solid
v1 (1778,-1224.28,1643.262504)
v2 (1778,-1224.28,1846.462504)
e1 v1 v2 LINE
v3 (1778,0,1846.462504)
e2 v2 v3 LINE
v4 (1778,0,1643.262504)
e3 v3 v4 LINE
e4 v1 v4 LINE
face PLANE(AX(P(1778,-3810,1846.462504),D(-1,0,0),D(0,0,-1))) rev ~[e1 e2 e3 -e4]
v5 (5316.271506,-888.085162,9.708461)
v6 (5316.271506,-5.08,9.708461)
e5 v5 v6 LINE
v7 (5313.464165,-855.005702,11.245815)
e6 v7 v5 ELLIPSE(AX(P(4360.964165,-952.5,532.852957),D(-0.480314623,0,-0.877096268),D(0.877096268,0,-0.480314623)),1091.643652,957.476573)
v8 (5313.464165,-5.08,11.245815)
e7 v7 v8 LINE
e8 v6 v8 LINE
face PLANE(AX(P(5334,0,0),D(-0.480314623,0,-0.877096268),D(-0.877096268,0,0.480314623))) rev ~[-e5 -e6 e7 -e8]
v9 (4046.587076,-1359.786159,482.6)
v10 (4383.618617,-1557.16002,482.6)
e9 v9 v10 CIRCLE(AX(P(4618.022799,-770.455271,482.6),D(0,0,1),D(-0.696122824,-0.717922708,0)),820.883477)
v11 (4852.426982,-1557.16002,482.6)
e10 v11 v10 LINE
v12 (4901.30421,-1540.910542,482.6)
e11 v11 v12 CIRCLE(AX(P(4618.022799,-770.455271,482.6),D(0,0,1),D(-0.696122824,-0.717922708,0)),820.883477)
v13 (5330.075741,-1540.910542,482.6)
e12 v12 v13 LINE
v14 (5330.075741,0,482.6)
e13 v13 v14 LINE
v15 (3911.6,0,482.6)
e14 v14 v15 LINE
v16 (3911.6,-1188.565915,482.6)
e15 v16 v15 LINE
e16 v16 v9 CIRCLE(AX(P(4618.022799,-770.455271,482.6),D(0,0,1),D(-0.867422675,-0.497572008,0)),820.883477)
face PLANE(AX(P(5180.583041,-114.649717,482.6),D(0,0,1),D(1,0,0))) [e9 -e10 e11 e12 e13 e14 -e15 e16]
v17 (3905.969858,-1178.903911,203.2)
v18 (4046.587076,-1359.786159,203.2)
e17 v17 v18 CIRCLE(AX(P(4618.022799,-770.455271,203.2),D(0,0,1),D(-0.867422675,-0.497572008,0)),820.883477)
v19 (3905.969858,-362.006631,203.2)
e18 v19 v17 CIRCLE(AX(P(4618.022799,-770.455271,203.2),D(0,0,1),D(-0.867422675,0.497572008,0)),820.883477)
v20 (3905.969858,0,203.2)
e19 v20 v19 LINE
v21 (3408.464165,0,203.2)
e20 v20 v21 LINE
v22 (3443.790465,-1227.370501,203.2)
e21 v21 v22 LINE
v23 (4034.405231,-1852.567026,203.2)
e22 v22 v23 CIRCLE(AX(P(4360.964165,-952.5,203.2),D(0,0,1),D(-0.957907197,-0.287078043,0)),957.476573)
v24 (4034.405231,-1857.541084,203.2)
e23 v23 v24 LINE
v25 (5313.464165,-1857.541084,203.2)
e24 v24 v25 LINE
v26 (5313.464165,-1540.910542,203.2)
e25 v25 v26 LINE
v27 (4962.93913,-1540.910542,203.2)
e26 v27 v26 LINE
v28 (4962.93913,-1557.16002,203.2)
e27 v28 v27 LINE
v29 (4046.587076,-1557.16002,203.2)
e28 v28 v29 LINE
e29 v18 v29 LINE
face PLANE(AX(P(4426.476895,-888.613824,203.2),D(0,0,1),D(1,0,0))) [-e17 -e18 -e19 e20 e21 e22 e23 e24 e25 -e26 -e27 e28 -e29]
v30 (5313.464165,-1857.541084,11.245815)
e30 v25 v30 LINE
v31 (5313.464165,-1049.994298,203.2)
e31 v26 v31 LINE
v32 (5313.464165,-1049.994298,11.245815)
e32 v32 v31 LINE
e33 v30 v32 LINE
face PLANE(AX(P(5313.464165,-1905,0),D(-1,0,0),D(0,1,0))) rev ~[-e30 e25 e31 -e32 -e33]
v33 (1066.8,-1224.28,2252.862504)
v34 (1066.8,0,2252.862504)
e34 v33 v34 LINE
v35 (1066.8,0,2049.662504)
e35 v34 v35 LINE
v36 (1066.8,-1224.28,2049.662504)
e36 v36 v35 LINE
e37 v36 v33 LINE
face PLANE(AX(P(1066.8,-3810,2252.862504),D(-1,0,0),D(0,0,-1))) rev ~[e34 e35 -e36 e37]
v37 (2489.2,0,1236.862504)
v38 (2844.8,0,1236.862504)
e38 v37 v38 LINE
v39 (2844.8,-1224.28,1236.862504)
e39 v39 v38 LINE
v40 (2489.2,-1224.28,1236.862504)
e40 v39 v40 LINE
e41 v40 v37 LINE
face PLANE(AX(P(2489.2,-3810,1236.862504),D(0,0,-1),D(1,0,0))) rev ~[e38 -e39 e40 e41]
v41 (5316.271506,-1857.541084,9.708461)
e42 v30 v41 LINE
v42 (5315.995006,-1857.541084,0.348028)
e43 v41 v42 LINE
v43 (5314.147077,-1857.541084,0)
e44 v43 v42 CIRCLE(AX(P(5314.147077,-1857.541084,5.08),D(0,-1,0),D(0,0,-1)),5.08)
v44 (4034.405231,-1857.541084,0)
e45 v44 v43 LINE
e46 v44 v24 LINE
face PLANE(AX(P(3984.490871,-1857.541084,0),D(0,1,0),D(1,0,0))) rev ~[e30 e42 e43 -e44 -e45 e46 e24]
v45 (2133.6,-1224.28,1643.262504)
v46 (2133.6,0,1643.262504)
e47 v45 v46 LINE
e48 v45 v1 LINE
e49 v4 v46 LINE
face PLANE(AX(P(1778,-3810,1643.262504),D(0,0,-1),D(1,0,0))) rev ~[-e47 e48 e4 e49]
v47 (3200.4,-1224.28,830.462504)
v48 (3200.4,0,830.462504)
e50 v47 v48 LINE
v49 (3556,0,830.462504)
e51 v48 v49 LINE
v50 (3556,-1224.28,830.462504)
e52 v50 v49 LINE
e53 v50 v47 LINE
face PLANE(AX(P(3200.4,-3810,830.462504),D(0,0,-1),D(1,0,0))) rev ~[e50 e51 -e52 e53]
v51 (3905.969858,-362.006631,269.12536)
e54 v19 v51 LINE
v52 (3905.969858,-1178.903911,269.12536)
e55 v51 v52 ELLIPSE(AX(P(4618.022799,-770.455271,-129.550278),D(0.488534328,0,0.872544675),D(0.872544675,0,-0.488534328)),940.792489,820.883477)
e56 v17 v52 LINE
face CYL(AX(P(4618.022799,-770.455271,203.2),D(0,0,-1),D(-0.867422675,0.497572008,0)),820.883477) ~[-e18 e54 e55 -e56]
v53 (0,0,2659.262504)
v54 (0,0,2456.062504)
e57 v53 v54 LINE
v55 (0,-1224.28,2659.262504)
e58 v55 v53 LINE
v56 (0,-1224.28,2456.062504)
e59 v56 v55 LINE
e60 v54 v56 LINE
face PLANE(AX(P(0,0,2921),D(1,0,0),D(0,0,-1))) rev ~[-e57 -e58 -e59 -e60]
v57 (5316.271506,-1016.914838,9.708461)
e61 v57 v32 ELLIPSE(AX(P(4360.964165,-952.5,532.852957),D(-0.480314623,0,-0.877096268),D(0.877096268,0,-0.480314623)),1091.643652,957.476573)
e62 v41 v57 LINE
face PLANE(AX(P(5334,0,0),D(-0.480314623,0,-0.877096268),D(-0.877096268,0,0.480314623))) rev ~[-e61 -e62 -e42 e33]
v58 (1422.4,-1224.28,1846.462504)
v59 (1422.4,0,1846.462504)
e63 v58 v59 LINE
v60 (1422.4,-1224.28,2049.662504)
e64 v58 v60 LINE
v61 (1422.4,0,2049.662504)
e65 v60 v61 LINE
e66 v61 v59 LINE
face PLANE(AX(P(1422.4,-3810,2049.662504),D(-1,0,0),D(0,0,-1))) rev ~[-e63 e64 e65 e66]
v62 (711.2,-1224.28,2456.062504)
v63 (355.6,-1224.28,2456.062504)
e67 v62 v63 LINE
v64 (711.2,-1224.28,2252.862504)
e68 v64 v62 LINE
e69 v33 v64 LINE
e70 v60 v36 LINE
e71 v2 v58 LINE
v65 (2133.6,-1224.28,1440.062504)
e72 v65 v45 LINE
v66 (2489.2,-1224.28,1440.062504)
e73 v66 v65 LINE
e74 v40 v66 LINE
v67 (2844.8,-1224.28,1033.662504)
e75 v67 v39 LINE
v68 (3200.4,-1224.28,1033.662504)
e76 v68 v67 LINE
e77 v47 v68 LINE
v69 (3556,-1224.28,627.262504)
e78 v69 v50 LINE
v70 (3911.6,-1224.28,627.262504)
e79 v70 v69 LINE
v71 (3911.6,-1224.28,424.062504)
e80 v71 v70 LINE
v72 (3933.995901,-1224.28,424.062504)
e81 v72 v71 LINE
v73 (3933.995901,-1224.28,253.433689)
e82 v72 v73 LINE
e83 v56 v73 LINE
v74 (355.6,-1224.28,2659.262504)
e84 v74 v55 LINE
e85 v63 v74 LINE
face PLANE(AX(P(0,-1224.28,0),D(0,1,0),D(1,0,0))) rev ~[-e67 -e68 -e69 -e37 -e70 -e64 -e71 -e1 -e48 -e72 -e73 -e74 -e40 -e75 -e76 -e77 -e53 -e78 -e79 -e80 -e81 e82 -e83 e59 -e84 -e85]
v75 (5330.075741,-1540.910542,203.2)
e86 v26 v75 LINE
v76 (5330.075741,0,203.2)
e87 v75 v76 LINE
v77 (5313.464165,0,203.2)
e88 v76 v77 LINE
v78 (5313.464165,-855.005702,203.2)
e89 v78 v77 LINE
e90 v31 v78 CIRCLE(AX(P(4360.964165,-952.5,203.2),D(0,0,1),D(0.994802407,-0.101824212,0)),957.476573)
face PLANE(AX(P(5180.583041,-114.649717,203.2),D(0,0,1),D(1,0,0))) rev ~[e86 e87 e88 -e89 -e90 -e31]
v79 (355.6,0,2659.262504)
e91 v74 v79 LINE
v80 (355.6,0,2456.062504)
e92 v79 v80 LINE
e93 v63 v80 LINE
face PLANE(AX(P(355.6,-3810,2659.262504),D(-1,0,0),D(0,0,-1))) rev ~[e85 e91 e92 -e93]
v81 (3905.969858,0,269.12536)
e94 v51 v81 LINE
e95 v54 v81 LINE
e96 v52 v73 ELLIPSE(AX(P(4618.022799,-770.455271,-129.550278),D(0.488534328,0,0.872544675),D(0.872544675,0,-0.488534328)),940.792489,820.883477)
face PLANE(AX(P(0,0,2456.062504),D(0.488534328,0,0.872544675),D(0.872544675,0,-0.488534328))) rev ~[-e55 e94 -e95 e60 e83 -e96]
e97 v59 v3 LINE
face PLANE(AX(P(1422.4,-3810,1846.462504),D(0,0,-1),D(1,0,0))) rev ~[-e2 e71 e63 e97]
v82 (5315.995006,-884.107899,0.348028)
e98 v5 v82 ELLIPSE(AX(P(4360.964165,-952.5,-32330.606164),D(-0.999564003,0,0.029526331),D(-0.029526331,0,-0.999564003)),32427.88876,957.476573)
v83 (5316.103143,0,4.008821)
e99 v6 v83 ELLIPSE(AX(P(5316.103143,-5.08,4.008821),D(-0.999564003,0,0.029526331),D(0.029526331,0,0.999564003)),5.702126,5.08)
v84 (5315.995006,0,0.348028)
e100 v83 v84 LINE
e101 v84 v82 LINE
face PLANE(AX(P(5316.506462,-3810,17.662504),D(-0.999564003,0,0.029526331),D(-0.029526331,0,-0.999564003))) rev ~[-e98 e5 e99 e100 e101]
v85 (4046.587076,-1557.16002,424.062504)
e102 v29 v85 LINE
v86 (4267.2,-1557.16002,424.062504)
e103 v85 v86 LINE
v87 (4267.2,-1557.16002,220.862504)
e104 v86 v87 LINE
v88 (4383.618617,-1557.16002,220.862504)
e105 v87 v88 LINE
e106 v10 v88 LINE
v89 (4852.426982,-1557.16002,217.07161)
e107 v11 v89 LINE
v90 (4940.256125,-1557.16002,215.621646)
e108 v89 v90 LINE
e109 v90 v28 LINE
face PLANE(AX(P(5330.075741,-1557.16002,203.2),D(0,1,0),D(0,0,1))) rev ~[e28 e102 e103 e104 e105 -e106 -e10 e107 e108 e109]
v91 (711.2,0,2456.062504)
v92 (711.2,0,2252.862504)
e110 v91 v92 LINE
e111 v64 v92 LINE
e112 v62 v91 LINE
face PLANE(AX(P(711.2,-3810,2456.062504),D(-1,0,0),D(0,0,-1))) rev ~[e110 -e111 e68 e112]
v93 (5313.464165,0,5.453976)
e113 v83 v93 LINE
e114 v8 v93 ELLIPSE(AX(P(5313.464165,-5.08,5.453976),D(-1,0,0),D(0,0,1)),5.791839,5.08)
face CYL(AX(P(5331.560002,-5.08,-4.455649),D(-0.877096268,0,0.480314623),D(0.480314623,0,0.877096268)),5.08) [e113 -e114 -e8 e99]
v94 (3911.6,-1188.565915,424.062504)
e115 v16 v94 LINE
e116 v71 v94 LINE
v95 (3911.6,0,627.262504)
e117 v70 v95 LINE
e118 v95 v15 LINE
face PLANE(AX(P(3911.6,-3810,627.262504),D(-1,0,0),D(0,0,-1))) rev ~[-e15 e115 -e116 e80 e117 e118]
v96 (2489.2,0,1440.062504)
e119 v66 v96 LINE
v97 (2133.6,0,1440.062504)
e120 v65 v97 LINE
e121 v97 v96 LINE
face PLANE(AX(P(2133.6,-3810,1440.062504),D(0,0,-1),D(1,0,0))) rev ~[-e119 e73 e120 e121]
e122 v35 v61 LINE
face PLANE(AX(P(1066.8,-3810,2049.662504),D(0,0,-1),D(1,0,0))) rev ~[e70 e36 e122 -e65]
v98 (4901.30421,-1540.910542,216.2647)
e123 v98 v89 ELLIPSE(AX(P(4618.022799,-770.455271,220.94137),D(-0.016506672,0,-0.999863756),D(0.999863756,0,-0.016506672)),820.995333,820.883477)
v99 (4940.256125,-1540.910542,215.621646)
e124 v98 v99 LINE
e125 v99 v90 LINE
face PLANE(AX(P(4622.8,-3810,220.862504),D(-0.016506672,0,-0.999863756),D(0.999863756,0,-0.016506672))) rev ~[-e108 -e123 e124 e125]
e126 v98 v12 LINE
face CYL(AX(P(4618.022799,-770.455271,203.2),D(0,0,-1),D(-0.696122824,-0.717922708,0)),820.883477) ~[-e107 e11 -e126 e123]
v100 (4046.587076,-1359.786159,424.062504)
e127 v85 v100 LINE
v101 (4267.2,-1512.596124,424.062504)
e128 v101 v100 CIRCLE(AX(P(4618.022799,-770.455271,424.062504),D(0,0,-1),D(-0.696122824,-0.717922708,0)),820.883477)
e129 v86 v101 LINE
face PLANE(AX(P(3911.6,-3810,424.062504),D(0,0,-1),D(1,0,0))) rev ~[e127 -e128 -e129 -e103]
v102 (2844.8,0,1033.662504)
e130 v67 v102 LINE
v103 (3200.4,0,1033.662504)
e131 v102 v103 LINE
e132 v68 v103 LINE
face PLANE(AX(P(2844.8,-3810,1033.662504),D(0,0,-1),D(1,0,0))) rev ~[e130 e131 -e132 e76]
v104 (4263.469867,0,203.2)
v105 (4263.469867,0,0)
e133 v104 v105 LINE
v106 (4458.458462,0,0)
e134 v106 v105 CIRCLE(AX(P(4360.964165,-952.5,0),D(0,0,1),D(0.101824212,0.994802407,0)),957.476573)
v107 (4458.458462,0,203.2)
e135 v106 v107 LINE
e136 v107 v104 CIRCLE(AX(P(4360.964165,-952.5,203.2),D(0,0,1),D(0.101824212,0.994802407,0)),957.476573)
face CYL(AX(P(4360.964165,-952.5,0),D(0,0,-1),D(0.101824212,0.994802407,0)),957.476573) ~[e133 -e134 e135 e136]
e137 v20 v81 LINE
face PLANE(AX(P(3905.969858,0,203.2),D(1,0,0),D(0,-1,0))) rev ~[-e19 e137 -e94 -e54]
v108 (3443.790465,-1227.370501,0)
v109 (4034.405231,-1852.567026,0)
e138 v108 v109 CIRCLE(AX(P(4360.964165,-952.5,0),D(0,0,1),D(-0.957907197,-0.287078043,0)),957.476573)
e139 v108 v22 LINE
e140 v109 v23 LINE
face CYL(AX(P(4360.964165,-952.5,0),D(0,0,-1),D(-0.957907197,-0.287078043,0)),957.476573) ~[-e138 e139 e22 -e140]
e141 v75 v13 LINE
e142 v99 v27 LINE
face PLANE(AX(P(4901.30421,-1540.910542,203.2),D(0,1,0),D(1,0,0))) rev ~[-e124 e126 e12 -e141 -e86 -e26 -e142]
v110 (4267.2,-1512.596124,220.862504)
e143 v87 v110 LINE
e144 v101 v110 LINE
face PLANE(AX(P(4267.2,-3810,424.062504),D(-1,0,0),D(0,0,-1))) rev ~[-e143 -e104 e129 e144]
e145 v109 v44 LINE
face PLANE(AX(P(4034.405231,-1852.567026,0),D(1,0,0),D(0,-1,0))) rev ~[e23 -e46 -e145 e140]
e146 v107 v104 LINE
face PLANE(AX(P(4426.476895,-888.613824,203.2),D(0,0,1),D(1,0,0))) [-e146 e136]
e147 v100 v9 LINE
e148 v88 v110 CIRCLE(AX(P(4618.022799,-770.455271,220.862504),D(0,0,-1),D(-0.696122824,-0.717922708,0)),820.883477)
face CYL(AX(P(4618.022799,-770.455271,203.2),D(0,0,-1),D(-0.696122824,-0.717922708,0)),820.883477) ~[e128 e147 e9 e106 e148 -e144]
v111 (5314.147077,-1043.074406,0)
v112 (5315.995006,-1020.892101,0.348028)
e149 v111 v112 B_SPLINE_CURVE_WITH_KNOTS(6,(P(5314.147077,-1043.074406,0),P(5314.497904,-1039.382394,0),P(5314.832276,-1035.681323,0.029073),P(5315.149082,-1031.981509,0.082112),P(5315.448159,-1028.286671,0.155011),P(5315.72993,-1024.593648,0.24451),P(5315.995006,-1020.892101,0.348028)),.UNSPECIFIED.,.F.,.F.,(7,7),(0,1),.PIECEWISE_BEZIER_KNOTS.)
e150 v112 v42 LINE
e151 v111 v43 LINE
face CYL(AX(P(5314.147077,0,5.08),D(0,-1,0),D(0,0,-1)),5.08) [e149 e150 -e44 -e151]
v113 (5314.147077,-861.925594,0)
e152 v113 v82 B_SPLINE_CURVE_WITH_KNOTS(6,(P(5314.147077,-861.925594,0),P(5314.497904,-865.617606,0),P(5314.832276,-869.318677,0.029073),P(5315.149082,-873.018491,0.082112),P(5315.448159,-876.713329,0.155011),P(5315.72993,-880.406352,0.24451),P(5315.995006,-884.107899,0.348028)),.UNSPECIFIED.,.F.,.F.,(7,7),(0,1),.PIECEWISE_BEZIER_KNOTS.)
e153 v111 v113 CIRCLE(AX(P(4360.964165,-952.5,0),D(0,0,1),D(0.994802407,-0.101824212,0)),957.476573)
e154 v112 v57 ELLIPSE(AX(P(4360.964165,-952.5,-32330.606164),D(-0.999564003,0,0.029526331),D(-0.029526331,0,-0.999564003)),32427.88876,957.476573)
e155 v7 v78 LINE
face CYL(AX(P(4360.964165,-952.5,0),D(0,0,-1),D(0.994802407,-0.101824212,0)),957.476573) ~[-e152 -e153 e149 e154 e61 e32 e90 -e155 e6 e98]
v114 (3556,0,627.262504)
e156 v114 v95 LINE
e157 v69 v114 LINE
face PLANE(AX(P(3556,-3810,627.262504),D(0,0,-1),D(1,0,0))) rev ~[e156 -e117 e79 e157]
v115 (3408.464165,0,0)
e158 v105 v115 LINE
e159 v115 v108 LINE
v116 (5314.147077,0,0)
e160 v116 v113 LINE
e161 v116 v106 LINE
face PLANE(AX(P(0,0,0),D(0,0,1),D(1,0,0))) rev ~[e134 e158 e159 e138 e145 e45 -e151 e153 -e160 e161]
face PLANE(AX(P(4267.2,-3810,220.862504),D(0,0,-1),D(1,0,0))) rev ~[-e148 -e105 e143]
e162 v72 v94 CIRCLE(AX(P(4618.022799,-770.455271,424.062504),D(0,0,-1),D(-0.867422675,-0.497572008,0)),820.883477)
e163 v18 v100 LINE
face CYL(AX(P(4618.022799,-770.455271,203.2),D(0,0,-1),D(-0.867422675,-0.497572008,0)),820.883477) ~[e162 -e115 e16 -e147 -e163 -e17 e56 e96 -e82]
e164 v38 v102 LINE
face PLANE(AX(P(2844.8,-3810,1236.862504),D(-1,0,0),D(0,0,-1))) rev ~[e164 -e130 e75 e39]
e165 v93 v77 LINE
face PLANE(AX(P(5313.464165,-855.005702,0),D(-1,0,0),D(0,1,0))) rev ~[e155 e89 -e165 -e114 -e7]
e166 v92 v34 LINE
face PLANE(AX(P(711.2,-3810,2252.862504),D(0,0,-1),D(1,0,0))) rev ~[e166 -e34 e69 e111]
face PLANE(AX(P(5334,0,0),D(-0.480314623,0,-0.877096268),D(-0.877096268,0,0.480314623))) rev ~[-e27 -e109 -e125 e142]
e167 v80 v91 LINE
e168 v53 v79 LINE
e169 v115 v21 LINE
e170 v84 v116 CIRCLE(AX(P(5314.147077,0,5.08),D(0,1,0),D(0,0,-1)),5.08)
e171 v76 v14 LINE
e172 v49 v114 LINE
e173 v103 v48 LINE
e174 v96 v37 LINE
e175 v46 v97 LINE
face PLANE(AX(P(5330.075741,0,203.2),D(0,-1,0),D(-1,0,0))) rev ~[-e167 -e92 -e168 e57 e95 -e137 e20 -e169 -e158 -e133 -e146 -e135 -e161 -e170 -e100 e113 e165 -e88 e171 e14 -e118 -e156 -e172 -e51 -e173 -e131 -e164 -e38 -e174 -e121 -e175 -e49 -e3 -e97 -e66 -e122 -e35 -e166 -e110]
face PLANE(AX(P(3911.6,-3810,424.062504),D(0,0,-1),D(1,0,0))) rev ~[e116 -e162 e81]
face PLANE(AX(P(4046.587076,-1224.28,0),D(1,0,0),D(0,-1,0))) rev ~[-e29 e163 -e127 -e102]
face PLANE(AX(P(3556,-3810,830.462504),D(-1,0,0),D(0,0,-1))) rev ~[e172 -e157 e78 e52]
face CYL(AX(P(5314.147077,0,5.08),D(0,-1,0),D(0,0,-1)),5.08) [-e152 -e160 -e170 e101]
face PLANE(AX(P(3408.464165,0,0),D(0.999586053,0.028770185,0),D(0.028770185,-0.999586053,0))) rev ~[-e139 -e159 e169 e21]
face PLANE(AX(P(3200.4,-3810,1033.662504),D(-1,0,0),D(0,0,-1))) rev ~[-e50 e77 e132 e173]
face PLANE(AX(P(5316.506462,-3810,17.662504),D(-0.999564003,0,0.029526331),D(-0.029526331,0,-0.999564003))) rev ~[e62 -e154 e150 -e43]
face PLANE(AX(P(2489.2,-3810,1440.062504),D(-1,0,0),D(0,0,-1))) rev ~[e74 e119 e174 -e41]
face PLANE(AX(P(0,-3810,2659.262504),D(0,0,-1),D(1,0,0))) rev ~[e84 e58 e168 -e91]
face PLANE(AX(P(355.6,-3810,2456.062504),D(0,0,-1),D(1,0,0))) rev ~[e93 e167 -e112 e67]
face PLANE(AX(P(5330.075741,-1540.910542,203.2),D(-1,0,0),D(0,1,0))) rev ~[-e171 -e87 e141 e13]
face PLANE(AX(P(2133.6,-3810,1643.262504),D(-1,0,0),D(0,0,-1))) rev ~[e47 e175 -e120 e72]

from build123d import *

# Parameters (mm, degrees)
F1_DEPTH  = 3810
F2_R      = 5.08
F4_W      = 4046.5870756649
F4_H      = 2585.72
F5_DEPTH  = 3454.4
F7_DEPTH  = 4292.6
F9_DEPTH  = 5537.2
F11_DEPTH = 203.2
F12_W     = 1461.0528945923
F12_H     = 2088.3071422577
F13_DEPTH = 1066.8
F15_DEPTH = 279.4
F16_W     = 422.590970993
F16_H     = 310.923916626
F17_DEPTH = 3728.72


with BuildPart() as f1:
    # F0 (on Front) → F1 (new body)
    with BuildSketch(Plane.XZ):
        Polygon((0, 2921), (0, 0), (5334, 0), align=None)
    extrude(amount=F1_DEPTH)

    # F2
    f2_edges = [f1.edges().sort_by_distance(p)[0] for p in [
        (5334, -1905, 0),
        (0, -1905, 2921),
        (2667, 0, 1460.5),
        (2667, -3810, 1460.5),
    ]]
    fillet(f2_edges, radius=F2_R)

    # F4 (on face) → F5 (cut)
    with BuildSketch(Plane(origin=(0, 0, 0), x_dir=(1, 0, 0), z_dir=(0, 0, -1))):
        with Locations((2023.2935378325, 2517.14)):
            Rectangle(F4_W, F4_H)
    extrude(amount=-F5_DEPTH, mode=Mode.SUBTRACT)

    # F6 (on face) → F7 (cut)
    with BuildSketch(Plane.XZ.offset(3810)):
        Polygon((5320.9031862571, 17.6625038147), (5320.9031862571, 166.5061565368), (5316.5761081827, 20.0202453923), align=None)
        Polygon((5320.9031862571, 17.6625038147), (5316.5761081827, 20.0202453923), (5316.5064623594, 17.6625038147), align=None)
        Polygon((0.5696018103, 2659.2625038147), (355.6, 2659.2625038147), (355.6, 2456.0625038147), (711.2, 2456.0625038147), (711.2, 2252.8625038147), (1066.8, 2252.8625038147), (1066.8, 2049.6625038147), (1422.4, 2049.6625038147), (1422.4, 1846.4625038147), (1778, 1846.4625038147), (1778, 1643.2625038147), (2133.6, 1643.2625038147), (2133.6, 1440.0625038147), (2489.2, 1440.0625038147), (2489.2, 1236.8625038147), (2844.8, 1236.8625038147), (2844.8, 1033.6625038147), (2853.4424130303, 1033.6625038147), (2855.7144169309, 1351.3645521511), (0.6243509594, 2914.8662549451), align=None)
        Polygon((3665.5870756649, 907.8628580825), (2855.7144169309, 1351.3645521511), (2853.4424130303, 1033.6625038147), (3200.4, 1033.6625038147), (3200.4, 830.4625038147), (3556, 830.4625038147), (3556, 627.2625038147), (3665.5870756649, 627.2625038147), align=None)
        Polygon((2856.9627382478, 1525.9215761281), (2855.7144169309, 1351.3645521511), (3665.5870756649, 907.8628580825), (3665.5870756649, 627.2625038147), (3911.6, 627.2625038147), (3911.6, 424.0625038147), (4267.2, 424.0625038147), (4267.2, 220.8625038147), (4622.8, 220.8625038147), (4958.1376933021, 215.3264403), (5316.5761081827, 20.0202453923), (5320.9031862571, 166.5061565368), align=None)
        Polygon((0, 2659.2625038147), (0.5696018103, 2659.2625038147), (0.6243509594, 2914.8662549451), (2855.7144169309, 1351.3645521511), (2856.9627382478, 1525.9215761281), (0, 3038.5632514954), (-325.4196941853, 3048.7372875214), (-325.4196941853, 166.5061565368), (-325.4196941853, -137.8409564495), (5320.9031862571, -137.8409564495), (5320.9031862571, 17.6625038147), (5316.5064623594, 17.6625038147), (5315.9847259521, 0), (3665.5870756649, 0), (2846.1766242981, 0), (0, 0), (0, 2456.0625038147), align=None)
    extrude(amount=-F7_DEPTH, mode=Mode.SUBTRACT)

    # F8 (on face) → F9 (cut)
    with BuildSketch(Plane(origin=(0, 0, 0), x_dir=(-1, 0, 0), z_dir=(0, 1, 0))):
        Polygon((-4386.6400718689, 0), (0, 0), (0, 2456.0625038147), align=None)
    extrude(amount=-F9_DEPTH, mode=Mode.SUBTRACT)

    # F10 (on Top) → F11 (join)
    with BuildSketch(Plane.XY):
        with BuildLine():
            Line((5313.4641647339, -855.0057024642), (5313.4641647339, 0))
            Line((5313.4641647339, 0), (4458.4584622696, 0))
            Line((4458.4584622696, 0), (4263.4698671981, 0))
            Line((4263.4698671981, 0), (3408.4641647339, 0))
            Line((3408.4641647339, 0), (3443.7904647341, -1227.3705005646))
            Line((3443.7904647341, -1227.3705005646), (4034.4052314758, -1227.3705005646))
            Line((4034.4052314758, -1227.3705005646), (4034.4052314758, -1852.5670259271))
            ThreePointArc((4034.4052314758, -1852.5670259271), (4147.3229003929, -1885.8374514198), (4263.4698671981, -1905))
            Line((4263.4698671981, -1905), (4458.4584622696, -1905))
            Line((4458.4584622696, -1905), (5313.4641647339, -1905))
            Line((5313.4641647339, -1905), (5313.4641647339, -1049.9942975358))
            Line((5313.4641647339, -1049.9942975358), (5313.4641647339, -855.0057024642))
        make_face()
        with BuildLine():
            Line((4263.4698671981, 0), (4458.4584622696, 0))
            ThreePointArc((4458.4584622696, 0), (4360.9641647339, 4.9765731087), (4263.4698671981, 0))
        make_face()
        with BuildLine():
            ThreePointArc((5313.4641647339, -1049.9942975358), (5318.4407378426, -952.5), (5313.4641647339, -855.0057024642))
            Line((5313.4641647339, -855.0057024642), (5313.4641647339, -1049.9942975358))
        make_face()
        with BuildLine():
            Line((4034.4052314758, -1227.3705005646), (3443.7904647341, -1227.3705005646))
            ThreePointArc((3443.7904647341, -1227.3705005646), (3664.9502355708, -1610.0150176711), (4034.4052314758, -1852.5670259271))
            Line((4034.4052314758, -1852.5670259271), (4034.4052314758, -1227.3705005646))
        make_face()
        with BuildLine():
            ThreePointArc((4263.4698671981, -1905), (4360.9641647339, -1909.9765731087), (4458.4584622696, -1905))
            Line((4458.4584622696, -1905), (4263.4698671981, -1905))
        make_face()
        with BuildLine():
            ThreePointArc((4263.4698671981, -1905), (4147.3229003929, -1885.8374514198), (4034.4052314758, -1852.5670259271))
            Line((4034.4052314758, -1852.5670259271), (4034.4052314758, -1905))
            Line((4034.4052314758, -1905), (4263.4698671981, -1905))
        make_face()
    extrude(amount=F11_DEPTH)

    # F12 (on Top) → F13 (cut)
    with BuildSketch(Plane.XY):
        with Locations((4715.0173187256, -2901.6946554184)):
            Rectangle(F12_W, F12_H)
    extrude(amount=F13_DEPTH, mode=Mode.SUBTRACT)

    # F14 (on face) → F15 (join)
    with BuildSketch(Plane.XY.offset(203.2)):
        with BuildLine():
            Line((5330.0757408142, -362.0066313751), (5330.0757408142, 0))
            Line((5330.0757408142, 0), (4901.3042104477, 0))
            ThreePointArc((4901.3042104477, 0), (5147.5837671775, -143.2273507594), (5330.0757408142, -362.0066313751))
        make_face()
        with BuildLine():
            Line((3905.9698581696, -1178.9039107697), (3905.9698581696, -362.0066313751))
            ThreePointArc((3905.9698581696, -362.0066313751), (3797.1393226717, -770.4552710724), (3905.9698581696, -1178.9039107697))
        make_face()
        with BuildLine():
            ThreePointArc((4023.7155692476, -204.1968507414), (4167.5069348944, -84.2445612592), (4334.7413885361, 0))
            Line((4334.7413885361, 0), (4023.7155692476, 0))
            Line((4023.7155692476, 0), (4023.7155692476, -204.1968507414))
        make_face()
        with BuildLine():
            Line((4023.7155692476, -204.1968507414), (4023.7155692476, 0))
            Line((4023.7155692476, 0), (3905.9698581696, 0))
            Line((3905.9698581696, 0), (3905.9698581696, -362.0066313751))
            ThreePointArc((3905.9698581696, -362.0066313751), (3960.0940752521, -279.558666545), (4023.7155692476, -204.1968507414))
        make_face()
        with BuildLine():
            ThreePointArc((5330.0757408142, -362.0066313751), (5147.5837671775, -143.2273507594), (4901.3042104477, 0))
            Line((4901.3042104477, 0), (4334.7413885361, 0))
            ThreePointArc((4334.7413885361, 0), (4167.5069348944, -84.2445612592), (4023.7155692476, -204.1968507414))
            Line((4023.7155692476, -204.1968507414), (4023.7155692476, -1224.28))
            Line((4023.7155692476, -1224.28), (4046.5870756649, -1224.28))
            Line((4046.5870756649, -1224.28), (4046.5870756649, -1359.7861594964))
            ThreePointArc((4046.5870756649, -1359.7861594964), (4447.847191651, -1573.5056711173), (4901.3042104477, -1540.9105421448))
            Line((4901.3042104477, -1540.9105421448), (5330.0757408142, -1540.9105421448))
            Line((5330.0757408142, -1540.9105421448), (5330.0757408142, -362.0066313751))
        make_face()
        with BuildLine():
            Line((4023.7155692476, -1224.28), (4023.7155692476, -204.1968507414))
            ThreePointArc((4023.7155692476, -204.1968507414), (3960.0940752521, -279.558666545), (3905.9698581696, -362.0066313751))
            Line((3905.9698581696, -362.0066313751), (3905.9698581696, -1178.9039107697))
            ThreePointArc((3905.9698581696, -1178.9039107697), (3969.9368596908, -1274.2749780595), (4046.5870756649, -1359.7861594964))
            Line((4046.5870756649, -1359.7861594964), (4046.5870756649, -1224.28))
            Line((4046.5870756649, -1224.28), (4023.7155692476, -1224.28))
        make_face()
    extrude(amount=F15_DEPTH)

    # F16 (on face) → F17 (cut)
    with BuildSketch(Plane.YZ.offset(5330.0757408142)):
        with Locations((-1768.4555053711, 358.661958313)):
            Rectangle(F16_W, F16_H)
    extrude(amount=-F17_DEPTH, mode=Mode.SUBTRACT)


solid = f1.part
